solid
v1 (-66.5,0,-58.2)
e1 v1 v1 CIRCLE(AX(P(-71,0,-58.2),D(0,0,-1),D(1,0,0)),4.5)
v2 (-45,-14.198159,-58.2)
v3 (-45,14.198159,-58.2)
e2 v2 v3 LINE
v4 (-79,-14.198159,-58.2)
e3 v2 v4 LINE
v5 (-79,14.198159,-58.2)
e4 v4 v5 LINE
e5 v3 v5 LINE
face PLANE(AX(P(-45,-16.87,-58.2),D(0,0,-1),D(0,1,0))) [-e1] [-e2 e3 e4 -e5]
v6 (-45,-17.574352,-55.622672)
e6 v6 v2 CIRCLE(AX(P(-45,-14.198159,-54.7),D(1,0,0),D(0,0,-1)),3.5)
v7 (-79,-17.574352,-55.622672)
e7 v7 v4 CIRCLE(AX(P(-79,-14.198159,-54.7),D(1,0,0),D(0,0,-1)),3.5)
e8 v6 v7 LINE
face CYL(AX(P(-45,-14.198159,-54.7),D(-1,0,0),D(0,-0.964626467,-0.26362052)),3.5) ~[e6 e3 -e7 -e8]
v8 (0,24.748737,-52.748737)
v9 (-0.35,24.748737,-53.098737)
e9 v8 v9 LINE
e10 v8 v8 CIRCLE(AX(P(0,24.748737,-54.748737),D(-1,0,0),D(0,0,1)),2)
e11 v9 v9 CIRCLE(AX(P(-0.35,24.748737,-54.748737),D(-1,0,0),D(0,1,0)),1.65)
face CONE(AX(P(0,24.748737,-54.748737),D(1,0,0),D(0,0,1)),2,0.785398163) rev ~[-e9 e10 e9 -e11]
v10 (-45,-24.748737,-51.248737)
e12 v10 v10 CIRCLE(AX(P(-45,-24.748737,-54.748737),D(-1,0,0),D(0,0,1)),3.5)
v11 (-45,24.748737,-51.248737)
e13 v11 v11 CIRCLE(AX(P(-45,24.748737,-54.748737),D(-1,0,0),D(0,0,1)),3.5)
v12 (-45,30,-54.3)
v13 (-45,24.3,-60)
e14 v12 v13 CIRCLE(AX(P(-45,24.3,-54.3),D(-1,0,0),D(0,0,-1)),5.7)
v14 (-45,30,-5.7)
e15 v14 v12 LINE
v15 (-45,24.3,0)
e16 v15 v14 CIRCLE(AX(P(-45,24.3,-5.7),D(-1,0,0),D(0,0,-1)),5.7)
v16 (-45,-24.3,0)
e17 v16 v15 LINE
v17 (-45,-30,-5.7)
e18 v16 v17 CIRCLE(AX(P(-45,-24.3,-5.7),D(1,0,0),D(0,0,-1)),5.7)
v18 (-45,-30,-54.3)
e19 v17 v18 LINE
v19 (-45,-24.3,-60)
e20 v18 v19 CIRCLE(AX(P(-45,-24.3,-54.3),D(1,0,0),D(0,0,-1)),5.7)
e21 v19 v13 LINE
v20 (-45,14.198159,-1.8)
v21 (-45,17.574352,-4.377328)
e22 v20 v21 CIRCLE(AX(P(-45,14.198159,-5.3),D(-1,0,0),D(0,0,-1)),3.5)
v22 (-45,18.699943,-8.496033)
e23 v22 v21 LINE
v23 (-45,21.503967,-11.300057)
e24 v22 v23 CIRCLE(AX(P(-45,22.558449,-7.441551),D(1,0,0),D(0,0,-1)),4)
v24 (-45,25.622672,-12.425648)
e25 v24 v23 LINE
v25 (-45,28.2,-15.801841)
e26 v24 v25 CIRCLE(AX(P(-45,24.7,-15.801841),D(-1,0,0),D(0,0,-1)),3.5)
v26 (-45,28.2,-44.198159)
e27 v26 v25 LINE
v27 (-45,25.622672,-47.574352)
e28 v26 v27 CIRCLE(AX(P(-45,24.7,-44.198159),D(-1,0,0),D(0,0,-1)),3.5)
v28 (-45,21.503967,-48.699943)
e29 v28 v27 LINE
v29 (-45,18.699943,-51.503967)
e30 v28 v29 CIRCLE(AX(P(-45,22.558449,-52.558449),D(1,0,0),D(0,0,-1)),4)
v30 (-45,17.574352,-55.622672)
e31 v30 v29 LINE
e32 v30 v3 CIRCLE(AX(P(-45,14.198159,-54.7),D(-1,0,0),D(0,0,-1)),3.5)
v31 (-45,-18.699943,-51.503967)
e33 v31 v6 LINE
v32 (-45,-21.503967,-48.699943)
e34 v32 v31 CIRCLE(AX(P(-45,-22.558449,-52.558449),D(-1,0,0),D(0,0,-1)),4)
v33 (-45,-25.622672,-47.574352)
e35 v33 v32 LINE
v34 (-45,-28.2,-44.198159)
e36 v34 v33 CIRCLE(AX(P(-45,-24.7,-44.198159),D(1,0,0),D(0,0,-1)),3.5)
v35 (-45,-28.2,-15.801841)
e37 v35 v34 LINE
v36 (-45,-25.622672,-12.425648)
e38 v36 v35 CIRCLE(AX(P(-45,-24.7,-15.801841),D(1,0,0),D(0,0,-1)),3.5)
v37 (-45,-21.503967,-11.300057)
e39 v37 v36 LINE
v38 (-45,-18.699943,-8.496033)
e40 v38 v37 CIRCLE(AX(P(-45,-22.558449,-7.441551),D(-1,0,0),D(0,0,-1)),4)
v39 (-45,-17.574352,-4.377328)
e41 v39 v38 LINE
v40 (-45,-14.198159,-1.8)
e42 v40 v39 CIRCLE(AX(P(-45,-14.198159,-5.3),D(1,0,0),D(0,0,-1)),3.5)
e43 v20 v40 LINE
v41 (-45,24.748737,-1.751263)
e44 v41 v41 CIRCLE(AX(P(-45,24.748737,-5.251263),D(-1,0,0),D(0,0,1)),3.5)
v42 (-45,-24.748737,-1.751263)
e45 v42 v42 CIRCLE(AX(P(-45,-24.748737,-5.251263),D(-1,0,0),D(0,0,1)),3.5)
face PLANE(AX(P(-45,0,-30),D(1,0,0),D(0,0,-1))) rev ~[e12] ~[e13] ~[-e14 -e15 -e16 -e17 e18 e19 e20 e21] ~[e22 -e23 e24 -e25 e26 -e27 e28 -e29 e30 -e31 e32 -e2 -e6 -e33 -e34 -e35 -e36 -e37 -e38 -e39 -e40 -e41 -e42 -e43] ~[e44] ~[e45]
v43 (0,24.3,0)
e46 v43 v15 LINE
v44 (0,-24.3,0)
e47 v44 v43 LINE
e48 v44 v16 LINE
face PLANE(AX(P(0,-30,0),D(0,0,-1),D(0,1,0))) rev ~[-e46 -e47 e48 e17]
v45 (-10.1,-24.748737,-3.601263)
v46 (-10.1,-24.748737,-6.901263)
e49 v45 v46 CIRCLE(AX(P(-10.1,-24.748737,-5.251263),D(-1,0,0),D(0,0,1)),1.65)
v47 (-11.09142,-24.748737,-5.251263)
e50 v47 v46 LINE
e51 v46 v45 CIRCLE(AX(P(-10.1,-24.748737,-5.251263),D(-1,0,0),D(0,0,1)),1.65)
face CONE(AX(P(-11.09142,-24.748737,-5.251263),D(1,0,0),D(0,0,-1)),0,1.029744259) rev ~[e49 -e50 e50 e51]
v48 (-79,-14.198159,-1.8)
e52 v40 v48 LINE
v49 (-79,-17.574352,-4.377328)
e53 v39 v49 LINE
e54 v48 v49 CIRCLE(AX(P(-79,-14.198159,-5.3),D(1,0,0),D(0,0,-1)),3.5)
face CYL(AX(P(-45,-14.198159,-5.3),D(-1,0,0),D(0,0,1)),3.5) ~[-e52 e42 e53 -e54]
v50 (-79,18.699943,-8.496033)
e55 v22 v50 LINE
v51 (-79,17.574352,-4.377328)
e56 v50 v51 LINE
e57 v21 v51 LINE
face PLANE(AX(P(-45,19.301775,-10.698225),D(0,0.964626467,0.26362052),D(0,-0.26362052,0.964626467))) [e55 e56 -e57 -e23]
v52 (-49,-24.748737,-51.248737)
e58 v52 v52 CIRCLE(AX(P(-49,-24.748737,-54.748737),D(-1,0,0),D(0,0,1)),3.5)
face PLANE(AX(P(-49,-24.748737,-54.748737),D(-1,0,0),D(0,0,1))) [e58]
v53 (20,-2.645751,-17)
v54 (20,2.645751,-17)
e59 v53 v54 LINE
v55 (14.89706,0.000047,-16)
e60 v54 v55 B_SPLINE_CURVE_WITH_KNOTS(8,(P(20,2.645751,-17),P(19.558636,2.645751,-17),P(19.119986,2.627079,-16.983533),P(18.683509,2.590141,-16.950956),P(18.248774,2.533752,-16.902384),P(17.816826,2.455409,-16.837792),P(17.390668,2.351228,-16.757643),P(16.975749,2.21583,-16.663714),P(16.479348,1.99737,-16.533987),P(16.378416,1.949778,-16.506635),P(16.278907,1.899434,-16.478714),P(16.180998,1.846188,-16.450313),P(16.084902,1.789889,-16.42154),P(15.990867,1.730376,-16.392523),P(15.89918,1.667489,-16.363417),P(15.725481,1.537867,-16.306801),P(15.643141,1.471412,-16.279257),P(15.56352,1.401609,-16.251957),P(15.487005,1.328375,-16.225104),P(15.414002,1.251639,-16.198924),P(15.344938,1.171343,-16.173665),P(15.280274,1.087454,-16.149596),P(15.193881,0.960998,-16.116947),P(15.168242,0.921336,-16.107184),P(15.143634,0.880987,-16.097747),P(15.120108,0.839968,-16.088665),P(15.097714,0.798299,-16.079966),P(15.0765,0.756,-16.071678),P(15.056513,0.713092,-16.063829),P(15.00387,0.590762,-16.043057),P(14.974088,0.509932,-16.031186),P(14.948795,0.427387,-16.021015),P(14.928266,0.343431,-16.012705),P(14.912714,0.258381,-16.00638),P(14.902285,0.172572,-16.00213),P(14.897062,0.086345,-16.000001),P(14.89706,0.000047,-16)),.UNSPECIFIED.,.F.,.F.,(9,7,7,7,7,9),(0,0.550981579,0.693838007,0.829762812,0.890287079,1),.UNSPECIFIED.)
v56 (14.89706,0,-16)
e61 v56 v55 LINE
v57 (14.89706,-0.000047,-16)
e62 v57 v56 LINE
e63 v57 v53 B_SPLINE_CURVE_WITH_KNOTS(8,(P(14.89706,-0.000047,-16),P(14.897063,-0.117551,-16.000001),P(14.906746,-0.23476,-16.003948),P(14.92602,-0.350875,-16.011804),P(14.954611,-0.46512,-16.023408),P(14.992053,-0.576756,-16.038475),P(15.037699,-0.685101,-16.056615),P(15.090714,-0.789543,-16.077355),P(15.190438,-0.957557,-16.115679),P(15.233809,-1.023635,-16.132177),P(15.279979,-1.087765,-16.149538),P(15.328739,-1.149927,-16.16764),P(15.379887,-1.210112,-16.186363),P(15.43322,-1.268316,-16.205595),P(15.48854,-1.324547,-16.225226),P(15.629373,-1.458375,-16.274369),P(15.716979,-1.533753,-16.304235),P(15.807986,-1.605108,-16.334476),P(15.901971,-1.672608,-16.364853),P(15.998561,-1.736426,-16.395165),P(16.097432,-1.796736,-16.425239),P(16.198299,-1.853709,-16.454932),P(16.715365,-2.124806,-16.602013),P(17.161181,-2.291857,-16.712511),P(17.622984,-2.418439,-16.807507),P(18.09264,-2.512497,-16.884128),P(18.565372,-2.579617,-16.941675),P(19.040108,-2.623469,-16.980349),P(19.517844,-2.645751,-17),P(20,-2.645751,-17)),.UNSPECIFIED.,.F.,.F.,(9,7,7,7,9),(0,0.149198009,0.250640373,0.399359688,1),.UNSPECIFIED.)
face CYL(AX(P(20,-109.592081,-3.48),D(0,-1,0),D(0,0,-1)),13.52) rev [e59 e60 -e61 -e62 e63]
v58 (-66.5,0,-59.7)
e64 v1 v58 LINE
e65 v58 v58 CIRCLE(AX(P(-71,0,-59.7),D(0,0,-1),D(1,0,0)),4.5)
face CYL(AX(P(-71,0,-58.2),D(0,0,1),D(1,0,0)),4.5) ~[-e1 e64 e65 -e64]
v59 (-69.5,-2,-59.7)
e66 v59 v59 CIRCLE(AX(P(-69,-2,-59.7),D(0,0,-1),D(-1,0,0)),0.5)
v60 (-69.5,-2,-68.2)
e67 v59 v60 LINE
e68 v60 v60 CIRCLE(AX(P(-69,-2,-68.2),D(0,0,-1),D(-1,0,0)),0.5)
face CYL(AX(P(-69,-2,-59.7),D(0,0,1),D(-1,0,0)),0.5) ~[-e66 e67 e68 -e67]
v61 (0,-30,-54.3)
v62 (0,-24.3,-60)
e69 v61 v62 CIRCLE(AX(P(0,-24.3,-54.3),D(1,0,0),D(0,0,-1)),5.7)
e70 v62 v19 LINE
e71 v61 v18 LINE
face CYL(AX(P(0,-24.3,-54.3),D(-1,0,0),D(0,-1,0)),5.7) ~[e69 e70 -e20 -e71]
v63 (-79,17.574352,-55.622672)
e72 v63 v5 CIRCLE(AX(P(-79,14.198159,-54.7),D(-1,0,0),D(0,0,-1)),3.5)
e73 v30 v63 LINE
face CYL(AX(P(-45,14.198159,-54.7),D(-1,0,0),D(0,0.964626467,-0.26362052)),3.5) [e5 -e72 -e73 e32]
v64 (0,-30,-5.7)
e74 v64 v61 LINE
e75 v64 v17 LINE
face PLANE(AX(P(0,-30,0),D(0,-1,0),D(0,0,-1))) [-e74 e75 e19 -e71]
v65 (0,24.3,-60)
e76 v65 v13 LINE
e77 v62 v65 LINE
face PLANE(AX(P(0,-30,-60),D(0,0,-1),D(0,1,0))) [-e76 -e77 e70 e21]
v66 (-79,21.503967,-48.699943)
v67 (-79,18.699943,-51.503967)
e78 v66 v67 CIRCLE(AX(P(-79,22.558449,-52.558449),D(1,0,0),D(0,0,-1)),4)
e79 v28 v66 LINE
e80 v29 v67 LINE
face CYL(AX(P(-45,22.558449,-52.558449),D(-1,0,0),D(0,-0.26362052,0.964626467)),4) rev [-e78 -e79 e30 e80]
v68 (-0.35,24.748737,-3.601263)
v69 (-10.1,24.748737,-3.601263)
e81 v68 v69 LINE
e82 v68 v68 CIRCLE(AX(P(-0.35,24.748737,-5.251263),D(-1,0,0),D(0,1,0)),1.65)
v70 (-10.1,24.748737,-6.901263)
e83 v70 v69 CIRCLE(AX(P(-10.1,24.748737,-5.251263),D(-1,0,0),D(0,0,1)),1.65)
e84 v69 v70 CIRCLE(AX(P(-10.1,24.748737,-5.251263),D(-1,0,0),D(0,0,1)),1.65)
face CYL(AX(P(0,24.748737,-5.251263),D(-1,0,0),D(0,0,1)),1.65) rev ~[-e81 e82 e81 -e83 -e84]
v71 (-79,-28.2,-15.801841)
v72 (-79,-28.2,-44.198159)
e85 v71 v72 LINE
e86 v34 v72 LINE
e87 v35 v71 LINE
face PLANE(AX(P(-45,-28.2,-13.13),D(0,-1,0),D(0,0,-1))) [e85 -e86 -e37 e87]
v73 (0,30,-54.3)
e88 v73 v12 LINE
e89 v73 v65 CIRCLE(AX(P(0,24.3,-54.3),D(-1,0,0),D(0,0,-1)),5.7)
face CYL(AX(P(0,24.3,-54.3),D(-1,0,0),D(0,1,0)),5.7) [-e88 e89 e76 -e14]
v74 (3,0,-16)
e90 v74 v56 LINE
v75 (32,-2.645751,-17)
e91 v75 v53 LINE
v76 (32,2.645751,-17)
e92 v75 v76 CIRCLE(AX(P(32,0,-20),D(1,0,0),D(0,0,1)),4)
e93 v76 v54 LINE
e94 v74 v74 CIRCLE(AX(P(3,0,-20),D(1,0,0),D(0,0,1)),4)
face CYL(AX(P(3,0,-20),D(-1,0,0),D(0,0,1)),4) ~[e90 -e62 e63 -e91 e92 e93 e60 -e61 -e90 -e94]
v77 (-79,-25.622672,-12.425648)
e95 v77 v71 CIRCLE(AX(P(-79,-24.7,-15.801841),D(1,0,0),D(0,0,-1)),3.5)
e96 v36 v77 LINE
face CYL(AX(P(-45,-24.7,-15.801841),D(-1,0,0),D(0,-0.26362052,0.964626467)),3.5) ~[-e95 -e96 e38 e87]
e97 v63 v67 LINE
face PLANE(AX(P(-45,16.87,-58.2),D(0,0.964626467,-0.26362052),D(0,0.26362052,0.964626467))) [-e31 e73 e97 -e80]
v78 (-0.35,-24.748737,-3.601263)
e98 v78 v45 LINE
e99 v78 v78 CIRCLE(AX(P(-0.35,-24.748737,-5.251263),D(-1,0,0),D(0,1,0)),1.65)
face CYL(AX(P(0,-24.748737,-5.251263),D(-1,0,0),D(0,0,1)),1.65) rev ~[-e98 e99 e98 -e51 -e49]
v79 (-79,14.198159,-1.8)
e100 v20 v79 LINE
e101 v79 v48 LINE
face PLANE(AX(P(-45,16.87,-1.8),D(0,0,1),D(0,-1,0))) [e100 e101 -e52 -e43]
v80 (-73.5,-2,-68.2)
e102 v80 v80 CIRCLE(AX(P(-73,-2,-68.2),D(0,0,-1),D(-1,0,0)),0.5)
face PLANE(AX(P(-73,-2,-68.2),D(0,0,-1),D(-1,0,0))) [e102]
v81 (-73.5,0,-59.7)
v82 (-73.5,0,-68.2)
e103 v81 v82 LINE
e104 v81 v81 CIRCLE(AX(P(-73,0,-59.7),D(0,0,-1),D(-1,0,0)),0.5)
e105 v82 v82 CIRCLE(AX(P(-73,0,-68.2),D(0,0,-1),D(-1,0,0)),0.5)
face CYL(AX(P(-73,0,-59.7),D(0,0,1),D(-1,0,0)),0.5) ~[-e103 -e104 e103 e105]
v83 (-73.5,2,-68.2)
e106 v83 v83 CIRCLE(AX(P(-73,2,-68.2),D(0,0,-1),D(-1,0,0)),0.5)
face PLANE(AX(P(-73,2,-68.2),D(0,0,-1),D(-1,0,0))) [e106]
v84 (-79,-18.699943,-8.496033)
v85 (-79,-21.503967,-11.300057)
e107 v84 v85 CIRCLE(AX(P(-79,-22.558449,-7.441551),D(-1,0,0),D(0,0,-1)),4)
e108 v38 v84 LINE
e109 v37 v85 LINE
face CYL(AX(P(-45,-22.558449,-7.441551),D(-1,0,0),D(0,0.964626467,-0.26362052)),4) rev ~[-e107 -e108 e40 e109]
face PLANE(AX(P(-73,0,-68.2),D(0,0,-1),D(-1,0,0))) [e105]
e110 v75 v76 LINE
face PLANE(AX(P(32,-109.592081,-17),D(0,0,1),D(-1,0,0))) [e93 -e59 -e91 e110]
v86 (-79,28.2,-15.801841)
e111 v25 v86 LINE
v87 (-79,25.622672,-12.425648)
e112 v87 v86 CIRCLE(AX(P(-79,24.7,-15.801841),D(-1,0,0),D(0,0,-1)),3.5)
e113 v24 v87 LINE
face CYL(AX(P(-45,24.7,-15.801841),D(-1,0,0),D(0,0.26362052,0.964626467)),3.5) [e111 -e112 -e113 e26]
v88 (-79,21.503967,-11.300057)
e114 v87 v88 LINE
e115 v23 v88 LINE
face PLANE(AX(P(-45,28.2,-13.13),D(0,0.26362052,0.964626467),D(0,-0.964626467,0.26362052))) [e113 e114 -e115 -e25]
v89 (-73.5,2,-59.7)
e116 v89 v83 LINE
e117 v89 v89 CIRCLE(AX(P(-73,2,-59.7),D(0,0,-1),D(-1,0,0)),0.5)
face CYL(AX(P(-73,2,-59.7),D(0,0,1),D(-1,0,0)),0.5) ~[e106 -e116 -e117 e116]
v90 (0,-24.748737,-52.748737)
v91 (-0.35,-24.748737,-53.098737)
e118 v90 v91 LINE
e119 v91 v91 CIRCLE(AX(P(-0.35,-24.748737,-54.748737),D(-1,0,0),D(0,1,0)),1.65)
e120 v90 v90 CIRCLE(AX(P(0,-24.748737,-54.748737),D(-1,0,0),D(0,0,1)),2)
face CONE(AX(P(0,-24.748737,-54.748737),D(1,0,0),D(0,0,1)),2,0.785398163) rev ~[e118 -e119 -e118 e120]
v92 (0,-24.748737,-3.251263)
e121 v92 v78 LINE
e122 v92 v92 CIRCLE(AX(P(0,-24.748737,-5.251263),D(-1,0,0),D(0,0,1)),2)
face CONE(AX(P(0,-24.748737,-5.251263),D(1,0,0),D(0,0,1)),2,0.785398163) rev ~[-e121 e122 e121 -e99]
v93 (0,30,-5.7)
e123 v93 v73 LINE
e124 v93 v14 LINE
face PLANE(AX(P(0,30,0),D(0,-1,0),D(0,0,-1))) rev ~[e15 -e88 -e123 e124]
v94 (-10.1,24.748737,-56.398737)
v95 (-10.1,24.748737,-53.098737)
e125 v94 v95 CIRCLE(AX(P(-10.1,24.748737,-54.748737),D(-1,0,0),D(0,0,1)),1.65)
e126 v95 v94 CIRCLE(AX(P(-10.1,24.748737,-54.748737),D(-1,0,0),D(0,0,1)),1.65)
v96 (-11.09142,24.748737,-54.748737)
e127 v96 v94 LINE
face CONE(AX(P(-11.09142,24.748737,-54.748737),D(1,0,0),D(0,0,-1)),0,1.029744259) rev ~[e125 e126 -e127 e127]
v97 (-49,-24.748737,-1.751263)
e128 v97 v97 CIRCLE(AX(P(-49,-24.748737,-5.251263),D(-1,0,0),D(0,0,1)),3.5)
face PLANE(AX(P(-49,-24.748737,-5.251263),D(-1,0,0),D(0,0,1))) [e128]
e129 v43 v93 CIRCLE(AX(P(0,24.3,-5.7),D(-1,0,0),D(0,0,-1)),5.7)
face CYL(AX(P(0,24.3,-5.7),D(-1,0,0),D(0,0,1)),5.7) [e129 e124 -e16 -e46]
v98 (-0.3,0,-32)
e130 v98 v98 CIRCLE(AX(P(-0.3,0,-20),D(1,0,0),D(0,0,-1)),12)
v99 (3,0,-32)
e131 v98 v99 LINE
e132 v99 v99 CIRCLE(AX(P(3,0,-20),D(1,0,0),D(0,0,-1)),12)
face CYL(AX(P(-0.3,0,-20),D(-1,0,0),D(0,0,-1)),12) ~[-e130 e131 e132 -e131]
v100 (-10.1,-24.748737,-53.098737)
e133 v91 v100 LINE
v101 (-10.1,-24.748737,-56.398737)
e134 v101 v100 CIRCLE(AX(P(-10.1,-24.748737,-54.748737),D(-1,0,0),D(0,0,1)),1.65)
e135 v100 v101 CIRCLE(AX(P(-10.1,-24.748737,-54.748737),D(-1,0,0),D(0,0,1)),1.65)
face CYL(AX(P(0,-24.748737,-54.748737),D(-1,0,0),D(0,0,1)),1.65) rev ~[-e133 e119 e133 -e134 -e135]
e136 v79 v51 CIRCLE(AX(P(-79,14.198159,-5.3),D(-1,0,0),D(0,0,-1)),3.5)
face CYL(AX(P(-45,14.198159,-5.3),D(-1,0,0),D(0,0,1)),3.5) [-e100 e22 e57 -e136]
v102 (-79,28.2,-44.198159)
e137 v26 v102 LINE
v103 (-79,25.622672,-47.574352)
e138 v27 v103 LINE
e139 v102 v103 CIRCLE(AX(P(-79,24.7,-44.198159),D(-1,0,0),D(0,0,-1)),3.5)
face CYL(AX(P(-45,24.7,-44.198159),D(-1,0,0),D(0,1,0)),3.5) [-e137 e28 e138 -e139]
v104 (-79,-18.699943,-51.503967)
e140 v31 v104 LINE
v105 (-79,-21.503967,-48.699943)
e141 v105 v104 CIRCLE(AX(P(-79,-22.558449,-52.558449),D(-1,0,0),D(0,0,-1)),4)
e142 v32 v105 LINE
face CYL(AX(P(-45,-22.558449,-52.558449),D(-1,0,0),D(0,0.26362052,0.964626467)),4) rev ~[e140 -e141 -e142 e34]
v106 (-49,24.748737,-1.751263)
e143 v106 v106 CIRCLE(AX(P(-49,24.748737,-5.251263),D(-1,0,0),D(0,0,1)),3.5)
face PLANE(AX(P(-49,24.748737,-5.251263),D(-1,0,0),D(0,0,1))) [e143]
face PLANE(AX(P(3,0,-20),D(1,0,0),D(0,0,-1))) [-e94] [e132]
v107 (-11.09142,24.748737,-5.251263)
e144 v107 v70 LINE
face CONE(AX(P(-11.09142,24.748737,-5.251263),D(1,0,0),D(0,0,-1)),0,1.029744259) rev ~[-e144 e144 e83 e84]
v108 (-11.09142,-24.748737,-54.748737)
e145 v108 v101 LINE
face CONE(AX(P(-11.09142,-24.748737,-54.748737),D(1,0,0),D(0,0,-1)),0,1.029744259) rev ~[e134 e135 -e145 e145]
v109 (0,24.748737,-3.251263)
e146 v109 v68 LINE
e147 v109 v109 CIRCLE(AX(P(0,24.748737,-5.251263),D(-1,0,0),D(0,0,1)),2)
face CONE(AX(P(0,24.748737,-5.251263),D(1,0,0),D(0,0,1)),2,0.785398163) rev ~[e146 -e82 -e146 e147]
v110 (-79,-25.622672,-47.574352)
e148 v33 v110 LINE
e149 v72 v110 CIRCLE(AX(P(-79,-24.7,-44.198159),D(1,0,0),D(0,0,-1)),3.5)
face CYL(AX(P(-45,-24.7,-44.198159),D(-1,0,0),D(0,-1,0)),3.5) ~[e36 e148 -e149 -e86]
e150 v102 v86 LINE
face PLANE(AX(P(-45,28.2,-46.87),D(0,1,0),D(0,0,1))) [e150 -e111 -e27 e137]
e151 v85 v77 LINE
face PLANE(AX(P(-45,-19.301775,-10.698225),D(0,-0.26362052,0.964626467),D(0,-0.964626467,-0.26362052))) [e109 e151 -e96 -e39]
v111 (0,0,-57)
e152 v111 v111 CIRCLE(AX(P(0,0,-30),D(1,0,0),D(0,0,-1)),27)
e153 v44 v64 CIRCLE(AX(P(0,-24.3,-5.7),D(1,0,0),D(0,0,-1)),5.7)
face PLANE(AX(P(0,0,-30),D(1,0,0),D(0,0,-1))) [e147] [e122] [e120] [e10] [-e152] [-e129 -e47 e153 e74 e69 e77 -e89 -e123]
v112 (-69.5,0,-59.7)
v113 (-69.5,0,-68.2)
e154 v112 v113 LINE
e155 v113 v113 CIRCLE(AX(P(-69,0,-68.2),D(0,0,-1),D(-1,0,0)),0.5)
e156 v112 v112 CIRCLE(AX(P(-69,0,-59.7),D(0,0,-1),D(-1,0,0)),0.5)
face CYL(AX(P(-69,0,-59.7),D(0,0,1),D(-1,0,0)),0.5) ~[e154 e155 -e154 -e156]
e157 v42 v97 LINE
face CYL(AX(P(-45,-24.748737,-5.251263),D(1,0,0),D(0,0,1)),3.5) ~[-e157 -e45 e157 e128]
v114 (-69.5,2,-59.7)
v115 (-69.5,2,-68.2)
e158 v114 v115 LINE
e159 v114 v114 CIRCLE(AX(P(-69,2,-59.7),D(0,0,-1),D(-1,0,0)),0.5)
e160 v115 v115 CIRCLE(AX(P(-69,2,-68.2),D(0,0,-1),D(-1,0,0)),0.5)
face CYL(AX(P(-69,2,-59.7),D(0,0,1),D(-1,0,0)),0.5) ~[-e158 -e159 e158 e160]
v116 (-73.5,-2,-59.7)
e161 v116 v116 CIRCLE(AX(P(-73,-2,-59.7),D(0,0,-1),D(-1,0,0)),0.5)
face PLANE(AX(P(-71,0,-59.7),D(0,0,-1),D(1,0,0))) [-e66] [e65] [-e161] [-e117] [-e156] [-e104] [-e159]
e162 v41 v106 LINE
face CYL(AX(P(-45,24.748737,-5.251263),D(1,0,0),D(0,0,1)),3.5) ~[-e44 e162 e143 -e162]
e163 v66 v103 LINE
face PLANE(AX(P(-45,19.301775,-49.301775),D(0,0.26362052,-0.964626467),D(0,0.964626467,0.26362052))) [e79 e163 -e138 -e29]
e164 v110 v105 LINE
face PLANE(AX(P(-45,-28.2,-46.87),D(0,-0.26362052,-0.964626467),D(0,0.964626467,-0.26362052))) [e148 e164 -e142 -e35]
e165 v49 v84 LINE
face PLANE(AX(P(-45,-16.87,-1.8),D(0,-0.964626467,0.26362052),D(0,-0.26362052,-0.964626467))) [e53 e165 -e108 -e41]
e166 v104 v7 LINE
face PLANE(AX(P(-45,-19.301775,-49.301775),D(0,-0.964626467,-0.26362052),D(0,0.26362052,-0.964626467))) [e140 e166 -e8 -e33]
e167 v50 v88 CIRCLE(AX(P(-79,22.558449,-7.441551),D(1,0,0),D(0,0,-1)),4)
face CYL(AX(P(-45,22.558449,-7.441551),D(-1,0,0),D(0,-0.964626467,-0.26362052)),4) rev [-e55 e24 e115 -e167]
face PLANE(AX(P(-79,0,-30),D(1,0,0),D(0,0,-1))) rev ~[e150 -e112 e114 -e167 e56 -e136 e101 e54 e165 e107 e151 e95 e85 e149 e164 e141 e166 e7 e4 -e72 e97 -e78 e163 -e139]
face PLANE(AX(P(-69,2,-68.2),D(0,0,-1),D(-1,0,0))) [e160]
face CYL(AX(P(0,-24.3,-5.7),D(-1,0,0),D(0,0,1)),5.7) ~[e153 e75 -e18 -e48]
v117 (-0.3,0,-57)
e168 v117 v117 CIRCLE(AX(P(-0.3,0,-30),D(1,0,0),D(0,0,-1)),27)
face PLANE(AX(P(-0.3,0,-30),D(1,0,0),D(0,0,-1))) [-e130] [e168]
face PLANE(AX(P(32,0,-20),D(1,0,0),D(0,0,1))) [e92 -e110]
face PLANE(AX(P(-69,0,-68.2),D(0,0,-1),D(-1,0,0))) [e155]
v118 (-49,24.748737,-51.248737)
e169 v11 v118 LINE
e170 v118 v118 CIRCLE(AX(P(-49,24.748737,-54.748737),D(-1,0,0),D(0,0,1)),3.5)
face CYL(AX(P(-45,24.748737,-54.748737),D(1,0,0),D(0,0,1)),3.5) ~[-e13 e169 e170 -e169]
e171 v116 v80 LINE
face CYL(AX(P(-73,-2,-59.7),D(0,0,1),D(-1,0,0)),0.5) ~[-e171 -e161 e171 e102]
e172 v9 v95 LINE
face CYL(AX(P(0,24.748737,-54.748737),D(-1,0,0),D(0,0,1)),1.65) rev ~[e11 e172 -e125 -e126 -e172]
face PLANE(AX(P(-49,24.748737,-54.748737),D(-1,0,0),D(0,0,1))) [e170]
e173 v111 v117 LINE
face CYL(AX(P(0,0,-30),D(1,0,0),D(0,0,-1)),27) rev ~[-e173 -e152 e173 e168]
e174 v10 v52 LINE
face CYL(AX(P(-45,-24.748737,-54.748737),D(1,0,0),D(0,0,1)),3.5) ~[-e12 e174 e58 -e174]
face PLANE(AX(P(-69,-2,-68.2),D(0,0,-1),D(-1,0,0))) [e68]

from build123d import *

# Parameters (mm, degrees)
SKETCH1_W                   = 60
SKETCH1_H                   = 60
BOSS_EXTRUDE1_DEPTH         = 45
BOSS_EXTRUDE2_DEPTH         = 34
SKETCH3_R                   = 3.5
BOSS_EXTRUDE3_DEPTH         = 4
SKETCH4_R                   = 4.5
BOSS_EXTRUDE4_DEPTH         = 1.5
SKETCH5_R                   = 0.5
BOSS_EXTRUDE5_DEPTH         = 8.5
SKETCH6_R                   = 27
CUT_EXTRUDE1_DEPTH          = 0.3
SKETCH7_R                   = 12
BOSS_EXTRUDE6_DEPTH         = 3.3
SKETCH8_R                   = 4
BOSS_EXTRUDE7_DEPTH         = 29
CUT_EXTRUDE2_DEPTH          = 109.592080743
CUT_EXTRUDE2_DEPTH_BACK     = 109.592080743
M4_TAPPED_HOLE1_D           = 3.3
M4_TAPPED_HOLE1_DEPTH       = 10.1
M4_TAPPED_HOLE1_CSINK_D     = 4
M4_TAPPED_HOLE1_CSINK_ANGLE = 90
M4_TAPPED_HOLE1_TIP         = 0.991420021
FILLET1_R                   = 3.5
FILLET2_R                   = 4
FILLET3_R                   = 5.7


with BuildPart() as part:
    # Sketch1 → Boss-Extrude1 (new body)
    with BuildSketch(Plane(origin=(0, 0, 0), x_dir=(0, 0, -1), z_dir=(1, 0, 0))):
        with Locations((30, 0)):
            Rectangle(SKETCH1_W, SKETCH1_H)
    extrude(amount=-BOSS_EXTRUDE1_DEPTH)

    # Sketch2 → Boss-Extrude2 (add)
    with BuildSketch(Plane.ZY.offset(45)):
        Polygon((-1.8, 16.87), (-1.8, -16.87), (-10.698224855, -19.301775145), (-13.13, -28.2), (-46.87, -28.2), (-49.301775145, -19.301775145), (-58.2, -16.87), (-58.2, 16.87), (-49.301775145, 19.301775145), (-46.87, 28.2), (-13.13, 28.2), (-10.698224855, 19.301775145), align=None)
    extrude(amount=BOSS_EXTRUDE2_DEPTH)

    # Sketch3 → Boss-Extrude3 (add)
    with BuildSketch(Plane.ZY.offset(45)):
        with Locations((-5.251262658, 24.748737342)):
            Circle(SKETCH3_R)
        with Locations((-5.251262658, -24.748737342)):
            Circle(SKETCH3_R)
        with Locations((-54.748737342, -24.748737342)):
            Circle(SKETCH3_R)
        with Locations((-54.748737342, 24.748737342)):
            Circle(SKETCH3_R)
    extrude(amount=BOSS_EXTRUDE3_DEPTH)

    # Sketch4 → Boss-Extrude4 (add)
    with BuildSketch(Plane(origin=(0, 0, -58.2), x_dir=(-1, 0, 0), z_dir=(0, 0, -1))):
        with Locations(Location((71, 0, 0), (0, 0, 180))):
            Circle(SKETCH4_R)
    extrude(amount=BOSS_EXTRUDE4_DEPTH)

    # Sketch5 → Boss-Extrude5 (add)
    with BuildSketch(Plane(origin=(0, 0, -59.7), x_dir=(-1, 0, 0), z_dir=(0, 0, -1))):
        with Locations((73, -2)):
            Circle(SKETCH5_R)
        with Locations((73, 0)):
            Circle(SKETCH5_R)
        with Locations((73, 2)):
            Circle(SKETCH5_R)
        with Locations((69, -2)):
            Circle(SKETCH5_R)
        with Locations((69, 0)):
            Circle(SKETCH5_R)
        with Locations((69, 2)):
            Circle(SKETCH5_R)
    extrude(amount=BOSS_EXTRUDE5_DEPTH)

    # Sketch6 → Cut-Extrude1 (cut)
    with BuildSketch(Plane(origin=(0, 0, 0), x_dir=(0, 0, -1), z_dir=(1, 0, 0))):
        with Locations((30, 0)):
            Circle(SKETCH6_R)
    extrude(amount=-CUT_EXTRUDE1_DEPTH, mode=Mode.SUBTRACT)

    # Sketch7 → Boss-Extrude6 (add)
    with BuildSketch(Plane(origin=(-0.3, 0, 0), x_dir=(0, 0, -1), z_dir=(1, 0, 0))):
        with Locations((20, 0)):
            Circle(SKETCH7_R)
    extrude(amount=BOSS_EXTRUDE6_DEPTH)

    # Sketch8 → Boss-Extrude7 (add)
    with BuildSketch(Plane(origin=(3, 0, 0), x_dir=(0, 0, -1), z_dir=(1, 0, 0))):
        with Locations(Location((20, 0, 0), (0, 0, 180))):
            Circle(SKETCH8_R)
    extrude(amount=BOSS_EXTRUDE7_DEPTH)

    # Sketch9 → Cut-Extrude2 (cut, two sides: drawn at the far end of the back side and taken through both)
    with BuildSketch(Plane(origin=(0, 0, 0), x_dir=(1, 0, 0), z_dir=(0, 1, 0)).offset(-CUT_EXTRUDE2_DEPTH_BACK)):
        with BuildLine():
            Line((32, 17), (20, 17))
            ThreePointArc((20, 17), (17.4, 16.747644855), (14.897059671, 16))
            Line((14.897059671, 16), (32, 16))
            Line((32, 16), (32, 17))
        make_face()
    extrude(amount=CUT_EXTRUDE2_DEPTH + CUT_EXTRUDE2_DEPTH_BACK, mode=Mode.SUBTRACT)

    # M4 Tapped Hole1
    with Locations(Plane(origin=(0, 0, 0), x_dir=(0, 0, -1), z_dir=(1, 0, 0))):
        with Locations((5.251262658, -24.748737342), (5.251262658, 24.748737342), (54.748737342, -24.748737342), (54.748737342, 24.748737342)):
            CounterSinkHole(M4_TAPPED_HOLE1_D / 2, M4_TAPPED_HOLE1_CSINK_D / 2, depth=M4_TAPPED_HOLE1_DEPTH, counter_sink_angle=M4_TAPPED_HOLE1_CSINK_ANGLE)
            with Locations((0, 0, -(M4_TAPPED_HOLE1_DEPTH + M4_TAPPED_HOLE1_TIP / 2))):  # 118° drill point
                Cone(0, M4_TAPPED_HOLE1_D / 2, M4_TAPPED_HOLE1_TIP, mode=Mode.SUBTRACT)

    # Fillet1
    fillet1_edges = [part.edges().sort_by_distance(p)[0] for p in [
        (-62, 16.87, -1.8),
        (-62, 28.2, -13.13),
        (-62, 28.2, -46.87),
        (-62, 16.87, -58.2),
        (-62, -16.87, -58.2),
        (-62, -28.2, -46.87),
        (-62, -28.2, -13.13),
        (-62, -16.87, -1.8),
    ]]
    fillet(fillet1_edges, radius=FILLET1_R)

    # Fillet2
    fillet2_edges = [part.edges().sort_by_distance(p)[0] for p in [
        (-62, 19.301775145, -10.698224855),
        (-62, 19.301775145, -49.301775145),
        (-62, -19.301775145, -49.301775145),
        (-62, -19.301775145, -10.698224855),
    ]]
    fillet(fillet2_edges, radius=FILLET2_R)

    # Fillet3
    fillet3_edges = [part.edges().sort_by_distance(p)[0] for p in [
        (-22.5, 30, 0),
        (-22.5, 30, -60),
        (-22.5, -30, -60),
        (-22.5, -30, 0),
    ]]
    fillet(fillet3_edges, radius=FILLET3_R)


solid = part.part
